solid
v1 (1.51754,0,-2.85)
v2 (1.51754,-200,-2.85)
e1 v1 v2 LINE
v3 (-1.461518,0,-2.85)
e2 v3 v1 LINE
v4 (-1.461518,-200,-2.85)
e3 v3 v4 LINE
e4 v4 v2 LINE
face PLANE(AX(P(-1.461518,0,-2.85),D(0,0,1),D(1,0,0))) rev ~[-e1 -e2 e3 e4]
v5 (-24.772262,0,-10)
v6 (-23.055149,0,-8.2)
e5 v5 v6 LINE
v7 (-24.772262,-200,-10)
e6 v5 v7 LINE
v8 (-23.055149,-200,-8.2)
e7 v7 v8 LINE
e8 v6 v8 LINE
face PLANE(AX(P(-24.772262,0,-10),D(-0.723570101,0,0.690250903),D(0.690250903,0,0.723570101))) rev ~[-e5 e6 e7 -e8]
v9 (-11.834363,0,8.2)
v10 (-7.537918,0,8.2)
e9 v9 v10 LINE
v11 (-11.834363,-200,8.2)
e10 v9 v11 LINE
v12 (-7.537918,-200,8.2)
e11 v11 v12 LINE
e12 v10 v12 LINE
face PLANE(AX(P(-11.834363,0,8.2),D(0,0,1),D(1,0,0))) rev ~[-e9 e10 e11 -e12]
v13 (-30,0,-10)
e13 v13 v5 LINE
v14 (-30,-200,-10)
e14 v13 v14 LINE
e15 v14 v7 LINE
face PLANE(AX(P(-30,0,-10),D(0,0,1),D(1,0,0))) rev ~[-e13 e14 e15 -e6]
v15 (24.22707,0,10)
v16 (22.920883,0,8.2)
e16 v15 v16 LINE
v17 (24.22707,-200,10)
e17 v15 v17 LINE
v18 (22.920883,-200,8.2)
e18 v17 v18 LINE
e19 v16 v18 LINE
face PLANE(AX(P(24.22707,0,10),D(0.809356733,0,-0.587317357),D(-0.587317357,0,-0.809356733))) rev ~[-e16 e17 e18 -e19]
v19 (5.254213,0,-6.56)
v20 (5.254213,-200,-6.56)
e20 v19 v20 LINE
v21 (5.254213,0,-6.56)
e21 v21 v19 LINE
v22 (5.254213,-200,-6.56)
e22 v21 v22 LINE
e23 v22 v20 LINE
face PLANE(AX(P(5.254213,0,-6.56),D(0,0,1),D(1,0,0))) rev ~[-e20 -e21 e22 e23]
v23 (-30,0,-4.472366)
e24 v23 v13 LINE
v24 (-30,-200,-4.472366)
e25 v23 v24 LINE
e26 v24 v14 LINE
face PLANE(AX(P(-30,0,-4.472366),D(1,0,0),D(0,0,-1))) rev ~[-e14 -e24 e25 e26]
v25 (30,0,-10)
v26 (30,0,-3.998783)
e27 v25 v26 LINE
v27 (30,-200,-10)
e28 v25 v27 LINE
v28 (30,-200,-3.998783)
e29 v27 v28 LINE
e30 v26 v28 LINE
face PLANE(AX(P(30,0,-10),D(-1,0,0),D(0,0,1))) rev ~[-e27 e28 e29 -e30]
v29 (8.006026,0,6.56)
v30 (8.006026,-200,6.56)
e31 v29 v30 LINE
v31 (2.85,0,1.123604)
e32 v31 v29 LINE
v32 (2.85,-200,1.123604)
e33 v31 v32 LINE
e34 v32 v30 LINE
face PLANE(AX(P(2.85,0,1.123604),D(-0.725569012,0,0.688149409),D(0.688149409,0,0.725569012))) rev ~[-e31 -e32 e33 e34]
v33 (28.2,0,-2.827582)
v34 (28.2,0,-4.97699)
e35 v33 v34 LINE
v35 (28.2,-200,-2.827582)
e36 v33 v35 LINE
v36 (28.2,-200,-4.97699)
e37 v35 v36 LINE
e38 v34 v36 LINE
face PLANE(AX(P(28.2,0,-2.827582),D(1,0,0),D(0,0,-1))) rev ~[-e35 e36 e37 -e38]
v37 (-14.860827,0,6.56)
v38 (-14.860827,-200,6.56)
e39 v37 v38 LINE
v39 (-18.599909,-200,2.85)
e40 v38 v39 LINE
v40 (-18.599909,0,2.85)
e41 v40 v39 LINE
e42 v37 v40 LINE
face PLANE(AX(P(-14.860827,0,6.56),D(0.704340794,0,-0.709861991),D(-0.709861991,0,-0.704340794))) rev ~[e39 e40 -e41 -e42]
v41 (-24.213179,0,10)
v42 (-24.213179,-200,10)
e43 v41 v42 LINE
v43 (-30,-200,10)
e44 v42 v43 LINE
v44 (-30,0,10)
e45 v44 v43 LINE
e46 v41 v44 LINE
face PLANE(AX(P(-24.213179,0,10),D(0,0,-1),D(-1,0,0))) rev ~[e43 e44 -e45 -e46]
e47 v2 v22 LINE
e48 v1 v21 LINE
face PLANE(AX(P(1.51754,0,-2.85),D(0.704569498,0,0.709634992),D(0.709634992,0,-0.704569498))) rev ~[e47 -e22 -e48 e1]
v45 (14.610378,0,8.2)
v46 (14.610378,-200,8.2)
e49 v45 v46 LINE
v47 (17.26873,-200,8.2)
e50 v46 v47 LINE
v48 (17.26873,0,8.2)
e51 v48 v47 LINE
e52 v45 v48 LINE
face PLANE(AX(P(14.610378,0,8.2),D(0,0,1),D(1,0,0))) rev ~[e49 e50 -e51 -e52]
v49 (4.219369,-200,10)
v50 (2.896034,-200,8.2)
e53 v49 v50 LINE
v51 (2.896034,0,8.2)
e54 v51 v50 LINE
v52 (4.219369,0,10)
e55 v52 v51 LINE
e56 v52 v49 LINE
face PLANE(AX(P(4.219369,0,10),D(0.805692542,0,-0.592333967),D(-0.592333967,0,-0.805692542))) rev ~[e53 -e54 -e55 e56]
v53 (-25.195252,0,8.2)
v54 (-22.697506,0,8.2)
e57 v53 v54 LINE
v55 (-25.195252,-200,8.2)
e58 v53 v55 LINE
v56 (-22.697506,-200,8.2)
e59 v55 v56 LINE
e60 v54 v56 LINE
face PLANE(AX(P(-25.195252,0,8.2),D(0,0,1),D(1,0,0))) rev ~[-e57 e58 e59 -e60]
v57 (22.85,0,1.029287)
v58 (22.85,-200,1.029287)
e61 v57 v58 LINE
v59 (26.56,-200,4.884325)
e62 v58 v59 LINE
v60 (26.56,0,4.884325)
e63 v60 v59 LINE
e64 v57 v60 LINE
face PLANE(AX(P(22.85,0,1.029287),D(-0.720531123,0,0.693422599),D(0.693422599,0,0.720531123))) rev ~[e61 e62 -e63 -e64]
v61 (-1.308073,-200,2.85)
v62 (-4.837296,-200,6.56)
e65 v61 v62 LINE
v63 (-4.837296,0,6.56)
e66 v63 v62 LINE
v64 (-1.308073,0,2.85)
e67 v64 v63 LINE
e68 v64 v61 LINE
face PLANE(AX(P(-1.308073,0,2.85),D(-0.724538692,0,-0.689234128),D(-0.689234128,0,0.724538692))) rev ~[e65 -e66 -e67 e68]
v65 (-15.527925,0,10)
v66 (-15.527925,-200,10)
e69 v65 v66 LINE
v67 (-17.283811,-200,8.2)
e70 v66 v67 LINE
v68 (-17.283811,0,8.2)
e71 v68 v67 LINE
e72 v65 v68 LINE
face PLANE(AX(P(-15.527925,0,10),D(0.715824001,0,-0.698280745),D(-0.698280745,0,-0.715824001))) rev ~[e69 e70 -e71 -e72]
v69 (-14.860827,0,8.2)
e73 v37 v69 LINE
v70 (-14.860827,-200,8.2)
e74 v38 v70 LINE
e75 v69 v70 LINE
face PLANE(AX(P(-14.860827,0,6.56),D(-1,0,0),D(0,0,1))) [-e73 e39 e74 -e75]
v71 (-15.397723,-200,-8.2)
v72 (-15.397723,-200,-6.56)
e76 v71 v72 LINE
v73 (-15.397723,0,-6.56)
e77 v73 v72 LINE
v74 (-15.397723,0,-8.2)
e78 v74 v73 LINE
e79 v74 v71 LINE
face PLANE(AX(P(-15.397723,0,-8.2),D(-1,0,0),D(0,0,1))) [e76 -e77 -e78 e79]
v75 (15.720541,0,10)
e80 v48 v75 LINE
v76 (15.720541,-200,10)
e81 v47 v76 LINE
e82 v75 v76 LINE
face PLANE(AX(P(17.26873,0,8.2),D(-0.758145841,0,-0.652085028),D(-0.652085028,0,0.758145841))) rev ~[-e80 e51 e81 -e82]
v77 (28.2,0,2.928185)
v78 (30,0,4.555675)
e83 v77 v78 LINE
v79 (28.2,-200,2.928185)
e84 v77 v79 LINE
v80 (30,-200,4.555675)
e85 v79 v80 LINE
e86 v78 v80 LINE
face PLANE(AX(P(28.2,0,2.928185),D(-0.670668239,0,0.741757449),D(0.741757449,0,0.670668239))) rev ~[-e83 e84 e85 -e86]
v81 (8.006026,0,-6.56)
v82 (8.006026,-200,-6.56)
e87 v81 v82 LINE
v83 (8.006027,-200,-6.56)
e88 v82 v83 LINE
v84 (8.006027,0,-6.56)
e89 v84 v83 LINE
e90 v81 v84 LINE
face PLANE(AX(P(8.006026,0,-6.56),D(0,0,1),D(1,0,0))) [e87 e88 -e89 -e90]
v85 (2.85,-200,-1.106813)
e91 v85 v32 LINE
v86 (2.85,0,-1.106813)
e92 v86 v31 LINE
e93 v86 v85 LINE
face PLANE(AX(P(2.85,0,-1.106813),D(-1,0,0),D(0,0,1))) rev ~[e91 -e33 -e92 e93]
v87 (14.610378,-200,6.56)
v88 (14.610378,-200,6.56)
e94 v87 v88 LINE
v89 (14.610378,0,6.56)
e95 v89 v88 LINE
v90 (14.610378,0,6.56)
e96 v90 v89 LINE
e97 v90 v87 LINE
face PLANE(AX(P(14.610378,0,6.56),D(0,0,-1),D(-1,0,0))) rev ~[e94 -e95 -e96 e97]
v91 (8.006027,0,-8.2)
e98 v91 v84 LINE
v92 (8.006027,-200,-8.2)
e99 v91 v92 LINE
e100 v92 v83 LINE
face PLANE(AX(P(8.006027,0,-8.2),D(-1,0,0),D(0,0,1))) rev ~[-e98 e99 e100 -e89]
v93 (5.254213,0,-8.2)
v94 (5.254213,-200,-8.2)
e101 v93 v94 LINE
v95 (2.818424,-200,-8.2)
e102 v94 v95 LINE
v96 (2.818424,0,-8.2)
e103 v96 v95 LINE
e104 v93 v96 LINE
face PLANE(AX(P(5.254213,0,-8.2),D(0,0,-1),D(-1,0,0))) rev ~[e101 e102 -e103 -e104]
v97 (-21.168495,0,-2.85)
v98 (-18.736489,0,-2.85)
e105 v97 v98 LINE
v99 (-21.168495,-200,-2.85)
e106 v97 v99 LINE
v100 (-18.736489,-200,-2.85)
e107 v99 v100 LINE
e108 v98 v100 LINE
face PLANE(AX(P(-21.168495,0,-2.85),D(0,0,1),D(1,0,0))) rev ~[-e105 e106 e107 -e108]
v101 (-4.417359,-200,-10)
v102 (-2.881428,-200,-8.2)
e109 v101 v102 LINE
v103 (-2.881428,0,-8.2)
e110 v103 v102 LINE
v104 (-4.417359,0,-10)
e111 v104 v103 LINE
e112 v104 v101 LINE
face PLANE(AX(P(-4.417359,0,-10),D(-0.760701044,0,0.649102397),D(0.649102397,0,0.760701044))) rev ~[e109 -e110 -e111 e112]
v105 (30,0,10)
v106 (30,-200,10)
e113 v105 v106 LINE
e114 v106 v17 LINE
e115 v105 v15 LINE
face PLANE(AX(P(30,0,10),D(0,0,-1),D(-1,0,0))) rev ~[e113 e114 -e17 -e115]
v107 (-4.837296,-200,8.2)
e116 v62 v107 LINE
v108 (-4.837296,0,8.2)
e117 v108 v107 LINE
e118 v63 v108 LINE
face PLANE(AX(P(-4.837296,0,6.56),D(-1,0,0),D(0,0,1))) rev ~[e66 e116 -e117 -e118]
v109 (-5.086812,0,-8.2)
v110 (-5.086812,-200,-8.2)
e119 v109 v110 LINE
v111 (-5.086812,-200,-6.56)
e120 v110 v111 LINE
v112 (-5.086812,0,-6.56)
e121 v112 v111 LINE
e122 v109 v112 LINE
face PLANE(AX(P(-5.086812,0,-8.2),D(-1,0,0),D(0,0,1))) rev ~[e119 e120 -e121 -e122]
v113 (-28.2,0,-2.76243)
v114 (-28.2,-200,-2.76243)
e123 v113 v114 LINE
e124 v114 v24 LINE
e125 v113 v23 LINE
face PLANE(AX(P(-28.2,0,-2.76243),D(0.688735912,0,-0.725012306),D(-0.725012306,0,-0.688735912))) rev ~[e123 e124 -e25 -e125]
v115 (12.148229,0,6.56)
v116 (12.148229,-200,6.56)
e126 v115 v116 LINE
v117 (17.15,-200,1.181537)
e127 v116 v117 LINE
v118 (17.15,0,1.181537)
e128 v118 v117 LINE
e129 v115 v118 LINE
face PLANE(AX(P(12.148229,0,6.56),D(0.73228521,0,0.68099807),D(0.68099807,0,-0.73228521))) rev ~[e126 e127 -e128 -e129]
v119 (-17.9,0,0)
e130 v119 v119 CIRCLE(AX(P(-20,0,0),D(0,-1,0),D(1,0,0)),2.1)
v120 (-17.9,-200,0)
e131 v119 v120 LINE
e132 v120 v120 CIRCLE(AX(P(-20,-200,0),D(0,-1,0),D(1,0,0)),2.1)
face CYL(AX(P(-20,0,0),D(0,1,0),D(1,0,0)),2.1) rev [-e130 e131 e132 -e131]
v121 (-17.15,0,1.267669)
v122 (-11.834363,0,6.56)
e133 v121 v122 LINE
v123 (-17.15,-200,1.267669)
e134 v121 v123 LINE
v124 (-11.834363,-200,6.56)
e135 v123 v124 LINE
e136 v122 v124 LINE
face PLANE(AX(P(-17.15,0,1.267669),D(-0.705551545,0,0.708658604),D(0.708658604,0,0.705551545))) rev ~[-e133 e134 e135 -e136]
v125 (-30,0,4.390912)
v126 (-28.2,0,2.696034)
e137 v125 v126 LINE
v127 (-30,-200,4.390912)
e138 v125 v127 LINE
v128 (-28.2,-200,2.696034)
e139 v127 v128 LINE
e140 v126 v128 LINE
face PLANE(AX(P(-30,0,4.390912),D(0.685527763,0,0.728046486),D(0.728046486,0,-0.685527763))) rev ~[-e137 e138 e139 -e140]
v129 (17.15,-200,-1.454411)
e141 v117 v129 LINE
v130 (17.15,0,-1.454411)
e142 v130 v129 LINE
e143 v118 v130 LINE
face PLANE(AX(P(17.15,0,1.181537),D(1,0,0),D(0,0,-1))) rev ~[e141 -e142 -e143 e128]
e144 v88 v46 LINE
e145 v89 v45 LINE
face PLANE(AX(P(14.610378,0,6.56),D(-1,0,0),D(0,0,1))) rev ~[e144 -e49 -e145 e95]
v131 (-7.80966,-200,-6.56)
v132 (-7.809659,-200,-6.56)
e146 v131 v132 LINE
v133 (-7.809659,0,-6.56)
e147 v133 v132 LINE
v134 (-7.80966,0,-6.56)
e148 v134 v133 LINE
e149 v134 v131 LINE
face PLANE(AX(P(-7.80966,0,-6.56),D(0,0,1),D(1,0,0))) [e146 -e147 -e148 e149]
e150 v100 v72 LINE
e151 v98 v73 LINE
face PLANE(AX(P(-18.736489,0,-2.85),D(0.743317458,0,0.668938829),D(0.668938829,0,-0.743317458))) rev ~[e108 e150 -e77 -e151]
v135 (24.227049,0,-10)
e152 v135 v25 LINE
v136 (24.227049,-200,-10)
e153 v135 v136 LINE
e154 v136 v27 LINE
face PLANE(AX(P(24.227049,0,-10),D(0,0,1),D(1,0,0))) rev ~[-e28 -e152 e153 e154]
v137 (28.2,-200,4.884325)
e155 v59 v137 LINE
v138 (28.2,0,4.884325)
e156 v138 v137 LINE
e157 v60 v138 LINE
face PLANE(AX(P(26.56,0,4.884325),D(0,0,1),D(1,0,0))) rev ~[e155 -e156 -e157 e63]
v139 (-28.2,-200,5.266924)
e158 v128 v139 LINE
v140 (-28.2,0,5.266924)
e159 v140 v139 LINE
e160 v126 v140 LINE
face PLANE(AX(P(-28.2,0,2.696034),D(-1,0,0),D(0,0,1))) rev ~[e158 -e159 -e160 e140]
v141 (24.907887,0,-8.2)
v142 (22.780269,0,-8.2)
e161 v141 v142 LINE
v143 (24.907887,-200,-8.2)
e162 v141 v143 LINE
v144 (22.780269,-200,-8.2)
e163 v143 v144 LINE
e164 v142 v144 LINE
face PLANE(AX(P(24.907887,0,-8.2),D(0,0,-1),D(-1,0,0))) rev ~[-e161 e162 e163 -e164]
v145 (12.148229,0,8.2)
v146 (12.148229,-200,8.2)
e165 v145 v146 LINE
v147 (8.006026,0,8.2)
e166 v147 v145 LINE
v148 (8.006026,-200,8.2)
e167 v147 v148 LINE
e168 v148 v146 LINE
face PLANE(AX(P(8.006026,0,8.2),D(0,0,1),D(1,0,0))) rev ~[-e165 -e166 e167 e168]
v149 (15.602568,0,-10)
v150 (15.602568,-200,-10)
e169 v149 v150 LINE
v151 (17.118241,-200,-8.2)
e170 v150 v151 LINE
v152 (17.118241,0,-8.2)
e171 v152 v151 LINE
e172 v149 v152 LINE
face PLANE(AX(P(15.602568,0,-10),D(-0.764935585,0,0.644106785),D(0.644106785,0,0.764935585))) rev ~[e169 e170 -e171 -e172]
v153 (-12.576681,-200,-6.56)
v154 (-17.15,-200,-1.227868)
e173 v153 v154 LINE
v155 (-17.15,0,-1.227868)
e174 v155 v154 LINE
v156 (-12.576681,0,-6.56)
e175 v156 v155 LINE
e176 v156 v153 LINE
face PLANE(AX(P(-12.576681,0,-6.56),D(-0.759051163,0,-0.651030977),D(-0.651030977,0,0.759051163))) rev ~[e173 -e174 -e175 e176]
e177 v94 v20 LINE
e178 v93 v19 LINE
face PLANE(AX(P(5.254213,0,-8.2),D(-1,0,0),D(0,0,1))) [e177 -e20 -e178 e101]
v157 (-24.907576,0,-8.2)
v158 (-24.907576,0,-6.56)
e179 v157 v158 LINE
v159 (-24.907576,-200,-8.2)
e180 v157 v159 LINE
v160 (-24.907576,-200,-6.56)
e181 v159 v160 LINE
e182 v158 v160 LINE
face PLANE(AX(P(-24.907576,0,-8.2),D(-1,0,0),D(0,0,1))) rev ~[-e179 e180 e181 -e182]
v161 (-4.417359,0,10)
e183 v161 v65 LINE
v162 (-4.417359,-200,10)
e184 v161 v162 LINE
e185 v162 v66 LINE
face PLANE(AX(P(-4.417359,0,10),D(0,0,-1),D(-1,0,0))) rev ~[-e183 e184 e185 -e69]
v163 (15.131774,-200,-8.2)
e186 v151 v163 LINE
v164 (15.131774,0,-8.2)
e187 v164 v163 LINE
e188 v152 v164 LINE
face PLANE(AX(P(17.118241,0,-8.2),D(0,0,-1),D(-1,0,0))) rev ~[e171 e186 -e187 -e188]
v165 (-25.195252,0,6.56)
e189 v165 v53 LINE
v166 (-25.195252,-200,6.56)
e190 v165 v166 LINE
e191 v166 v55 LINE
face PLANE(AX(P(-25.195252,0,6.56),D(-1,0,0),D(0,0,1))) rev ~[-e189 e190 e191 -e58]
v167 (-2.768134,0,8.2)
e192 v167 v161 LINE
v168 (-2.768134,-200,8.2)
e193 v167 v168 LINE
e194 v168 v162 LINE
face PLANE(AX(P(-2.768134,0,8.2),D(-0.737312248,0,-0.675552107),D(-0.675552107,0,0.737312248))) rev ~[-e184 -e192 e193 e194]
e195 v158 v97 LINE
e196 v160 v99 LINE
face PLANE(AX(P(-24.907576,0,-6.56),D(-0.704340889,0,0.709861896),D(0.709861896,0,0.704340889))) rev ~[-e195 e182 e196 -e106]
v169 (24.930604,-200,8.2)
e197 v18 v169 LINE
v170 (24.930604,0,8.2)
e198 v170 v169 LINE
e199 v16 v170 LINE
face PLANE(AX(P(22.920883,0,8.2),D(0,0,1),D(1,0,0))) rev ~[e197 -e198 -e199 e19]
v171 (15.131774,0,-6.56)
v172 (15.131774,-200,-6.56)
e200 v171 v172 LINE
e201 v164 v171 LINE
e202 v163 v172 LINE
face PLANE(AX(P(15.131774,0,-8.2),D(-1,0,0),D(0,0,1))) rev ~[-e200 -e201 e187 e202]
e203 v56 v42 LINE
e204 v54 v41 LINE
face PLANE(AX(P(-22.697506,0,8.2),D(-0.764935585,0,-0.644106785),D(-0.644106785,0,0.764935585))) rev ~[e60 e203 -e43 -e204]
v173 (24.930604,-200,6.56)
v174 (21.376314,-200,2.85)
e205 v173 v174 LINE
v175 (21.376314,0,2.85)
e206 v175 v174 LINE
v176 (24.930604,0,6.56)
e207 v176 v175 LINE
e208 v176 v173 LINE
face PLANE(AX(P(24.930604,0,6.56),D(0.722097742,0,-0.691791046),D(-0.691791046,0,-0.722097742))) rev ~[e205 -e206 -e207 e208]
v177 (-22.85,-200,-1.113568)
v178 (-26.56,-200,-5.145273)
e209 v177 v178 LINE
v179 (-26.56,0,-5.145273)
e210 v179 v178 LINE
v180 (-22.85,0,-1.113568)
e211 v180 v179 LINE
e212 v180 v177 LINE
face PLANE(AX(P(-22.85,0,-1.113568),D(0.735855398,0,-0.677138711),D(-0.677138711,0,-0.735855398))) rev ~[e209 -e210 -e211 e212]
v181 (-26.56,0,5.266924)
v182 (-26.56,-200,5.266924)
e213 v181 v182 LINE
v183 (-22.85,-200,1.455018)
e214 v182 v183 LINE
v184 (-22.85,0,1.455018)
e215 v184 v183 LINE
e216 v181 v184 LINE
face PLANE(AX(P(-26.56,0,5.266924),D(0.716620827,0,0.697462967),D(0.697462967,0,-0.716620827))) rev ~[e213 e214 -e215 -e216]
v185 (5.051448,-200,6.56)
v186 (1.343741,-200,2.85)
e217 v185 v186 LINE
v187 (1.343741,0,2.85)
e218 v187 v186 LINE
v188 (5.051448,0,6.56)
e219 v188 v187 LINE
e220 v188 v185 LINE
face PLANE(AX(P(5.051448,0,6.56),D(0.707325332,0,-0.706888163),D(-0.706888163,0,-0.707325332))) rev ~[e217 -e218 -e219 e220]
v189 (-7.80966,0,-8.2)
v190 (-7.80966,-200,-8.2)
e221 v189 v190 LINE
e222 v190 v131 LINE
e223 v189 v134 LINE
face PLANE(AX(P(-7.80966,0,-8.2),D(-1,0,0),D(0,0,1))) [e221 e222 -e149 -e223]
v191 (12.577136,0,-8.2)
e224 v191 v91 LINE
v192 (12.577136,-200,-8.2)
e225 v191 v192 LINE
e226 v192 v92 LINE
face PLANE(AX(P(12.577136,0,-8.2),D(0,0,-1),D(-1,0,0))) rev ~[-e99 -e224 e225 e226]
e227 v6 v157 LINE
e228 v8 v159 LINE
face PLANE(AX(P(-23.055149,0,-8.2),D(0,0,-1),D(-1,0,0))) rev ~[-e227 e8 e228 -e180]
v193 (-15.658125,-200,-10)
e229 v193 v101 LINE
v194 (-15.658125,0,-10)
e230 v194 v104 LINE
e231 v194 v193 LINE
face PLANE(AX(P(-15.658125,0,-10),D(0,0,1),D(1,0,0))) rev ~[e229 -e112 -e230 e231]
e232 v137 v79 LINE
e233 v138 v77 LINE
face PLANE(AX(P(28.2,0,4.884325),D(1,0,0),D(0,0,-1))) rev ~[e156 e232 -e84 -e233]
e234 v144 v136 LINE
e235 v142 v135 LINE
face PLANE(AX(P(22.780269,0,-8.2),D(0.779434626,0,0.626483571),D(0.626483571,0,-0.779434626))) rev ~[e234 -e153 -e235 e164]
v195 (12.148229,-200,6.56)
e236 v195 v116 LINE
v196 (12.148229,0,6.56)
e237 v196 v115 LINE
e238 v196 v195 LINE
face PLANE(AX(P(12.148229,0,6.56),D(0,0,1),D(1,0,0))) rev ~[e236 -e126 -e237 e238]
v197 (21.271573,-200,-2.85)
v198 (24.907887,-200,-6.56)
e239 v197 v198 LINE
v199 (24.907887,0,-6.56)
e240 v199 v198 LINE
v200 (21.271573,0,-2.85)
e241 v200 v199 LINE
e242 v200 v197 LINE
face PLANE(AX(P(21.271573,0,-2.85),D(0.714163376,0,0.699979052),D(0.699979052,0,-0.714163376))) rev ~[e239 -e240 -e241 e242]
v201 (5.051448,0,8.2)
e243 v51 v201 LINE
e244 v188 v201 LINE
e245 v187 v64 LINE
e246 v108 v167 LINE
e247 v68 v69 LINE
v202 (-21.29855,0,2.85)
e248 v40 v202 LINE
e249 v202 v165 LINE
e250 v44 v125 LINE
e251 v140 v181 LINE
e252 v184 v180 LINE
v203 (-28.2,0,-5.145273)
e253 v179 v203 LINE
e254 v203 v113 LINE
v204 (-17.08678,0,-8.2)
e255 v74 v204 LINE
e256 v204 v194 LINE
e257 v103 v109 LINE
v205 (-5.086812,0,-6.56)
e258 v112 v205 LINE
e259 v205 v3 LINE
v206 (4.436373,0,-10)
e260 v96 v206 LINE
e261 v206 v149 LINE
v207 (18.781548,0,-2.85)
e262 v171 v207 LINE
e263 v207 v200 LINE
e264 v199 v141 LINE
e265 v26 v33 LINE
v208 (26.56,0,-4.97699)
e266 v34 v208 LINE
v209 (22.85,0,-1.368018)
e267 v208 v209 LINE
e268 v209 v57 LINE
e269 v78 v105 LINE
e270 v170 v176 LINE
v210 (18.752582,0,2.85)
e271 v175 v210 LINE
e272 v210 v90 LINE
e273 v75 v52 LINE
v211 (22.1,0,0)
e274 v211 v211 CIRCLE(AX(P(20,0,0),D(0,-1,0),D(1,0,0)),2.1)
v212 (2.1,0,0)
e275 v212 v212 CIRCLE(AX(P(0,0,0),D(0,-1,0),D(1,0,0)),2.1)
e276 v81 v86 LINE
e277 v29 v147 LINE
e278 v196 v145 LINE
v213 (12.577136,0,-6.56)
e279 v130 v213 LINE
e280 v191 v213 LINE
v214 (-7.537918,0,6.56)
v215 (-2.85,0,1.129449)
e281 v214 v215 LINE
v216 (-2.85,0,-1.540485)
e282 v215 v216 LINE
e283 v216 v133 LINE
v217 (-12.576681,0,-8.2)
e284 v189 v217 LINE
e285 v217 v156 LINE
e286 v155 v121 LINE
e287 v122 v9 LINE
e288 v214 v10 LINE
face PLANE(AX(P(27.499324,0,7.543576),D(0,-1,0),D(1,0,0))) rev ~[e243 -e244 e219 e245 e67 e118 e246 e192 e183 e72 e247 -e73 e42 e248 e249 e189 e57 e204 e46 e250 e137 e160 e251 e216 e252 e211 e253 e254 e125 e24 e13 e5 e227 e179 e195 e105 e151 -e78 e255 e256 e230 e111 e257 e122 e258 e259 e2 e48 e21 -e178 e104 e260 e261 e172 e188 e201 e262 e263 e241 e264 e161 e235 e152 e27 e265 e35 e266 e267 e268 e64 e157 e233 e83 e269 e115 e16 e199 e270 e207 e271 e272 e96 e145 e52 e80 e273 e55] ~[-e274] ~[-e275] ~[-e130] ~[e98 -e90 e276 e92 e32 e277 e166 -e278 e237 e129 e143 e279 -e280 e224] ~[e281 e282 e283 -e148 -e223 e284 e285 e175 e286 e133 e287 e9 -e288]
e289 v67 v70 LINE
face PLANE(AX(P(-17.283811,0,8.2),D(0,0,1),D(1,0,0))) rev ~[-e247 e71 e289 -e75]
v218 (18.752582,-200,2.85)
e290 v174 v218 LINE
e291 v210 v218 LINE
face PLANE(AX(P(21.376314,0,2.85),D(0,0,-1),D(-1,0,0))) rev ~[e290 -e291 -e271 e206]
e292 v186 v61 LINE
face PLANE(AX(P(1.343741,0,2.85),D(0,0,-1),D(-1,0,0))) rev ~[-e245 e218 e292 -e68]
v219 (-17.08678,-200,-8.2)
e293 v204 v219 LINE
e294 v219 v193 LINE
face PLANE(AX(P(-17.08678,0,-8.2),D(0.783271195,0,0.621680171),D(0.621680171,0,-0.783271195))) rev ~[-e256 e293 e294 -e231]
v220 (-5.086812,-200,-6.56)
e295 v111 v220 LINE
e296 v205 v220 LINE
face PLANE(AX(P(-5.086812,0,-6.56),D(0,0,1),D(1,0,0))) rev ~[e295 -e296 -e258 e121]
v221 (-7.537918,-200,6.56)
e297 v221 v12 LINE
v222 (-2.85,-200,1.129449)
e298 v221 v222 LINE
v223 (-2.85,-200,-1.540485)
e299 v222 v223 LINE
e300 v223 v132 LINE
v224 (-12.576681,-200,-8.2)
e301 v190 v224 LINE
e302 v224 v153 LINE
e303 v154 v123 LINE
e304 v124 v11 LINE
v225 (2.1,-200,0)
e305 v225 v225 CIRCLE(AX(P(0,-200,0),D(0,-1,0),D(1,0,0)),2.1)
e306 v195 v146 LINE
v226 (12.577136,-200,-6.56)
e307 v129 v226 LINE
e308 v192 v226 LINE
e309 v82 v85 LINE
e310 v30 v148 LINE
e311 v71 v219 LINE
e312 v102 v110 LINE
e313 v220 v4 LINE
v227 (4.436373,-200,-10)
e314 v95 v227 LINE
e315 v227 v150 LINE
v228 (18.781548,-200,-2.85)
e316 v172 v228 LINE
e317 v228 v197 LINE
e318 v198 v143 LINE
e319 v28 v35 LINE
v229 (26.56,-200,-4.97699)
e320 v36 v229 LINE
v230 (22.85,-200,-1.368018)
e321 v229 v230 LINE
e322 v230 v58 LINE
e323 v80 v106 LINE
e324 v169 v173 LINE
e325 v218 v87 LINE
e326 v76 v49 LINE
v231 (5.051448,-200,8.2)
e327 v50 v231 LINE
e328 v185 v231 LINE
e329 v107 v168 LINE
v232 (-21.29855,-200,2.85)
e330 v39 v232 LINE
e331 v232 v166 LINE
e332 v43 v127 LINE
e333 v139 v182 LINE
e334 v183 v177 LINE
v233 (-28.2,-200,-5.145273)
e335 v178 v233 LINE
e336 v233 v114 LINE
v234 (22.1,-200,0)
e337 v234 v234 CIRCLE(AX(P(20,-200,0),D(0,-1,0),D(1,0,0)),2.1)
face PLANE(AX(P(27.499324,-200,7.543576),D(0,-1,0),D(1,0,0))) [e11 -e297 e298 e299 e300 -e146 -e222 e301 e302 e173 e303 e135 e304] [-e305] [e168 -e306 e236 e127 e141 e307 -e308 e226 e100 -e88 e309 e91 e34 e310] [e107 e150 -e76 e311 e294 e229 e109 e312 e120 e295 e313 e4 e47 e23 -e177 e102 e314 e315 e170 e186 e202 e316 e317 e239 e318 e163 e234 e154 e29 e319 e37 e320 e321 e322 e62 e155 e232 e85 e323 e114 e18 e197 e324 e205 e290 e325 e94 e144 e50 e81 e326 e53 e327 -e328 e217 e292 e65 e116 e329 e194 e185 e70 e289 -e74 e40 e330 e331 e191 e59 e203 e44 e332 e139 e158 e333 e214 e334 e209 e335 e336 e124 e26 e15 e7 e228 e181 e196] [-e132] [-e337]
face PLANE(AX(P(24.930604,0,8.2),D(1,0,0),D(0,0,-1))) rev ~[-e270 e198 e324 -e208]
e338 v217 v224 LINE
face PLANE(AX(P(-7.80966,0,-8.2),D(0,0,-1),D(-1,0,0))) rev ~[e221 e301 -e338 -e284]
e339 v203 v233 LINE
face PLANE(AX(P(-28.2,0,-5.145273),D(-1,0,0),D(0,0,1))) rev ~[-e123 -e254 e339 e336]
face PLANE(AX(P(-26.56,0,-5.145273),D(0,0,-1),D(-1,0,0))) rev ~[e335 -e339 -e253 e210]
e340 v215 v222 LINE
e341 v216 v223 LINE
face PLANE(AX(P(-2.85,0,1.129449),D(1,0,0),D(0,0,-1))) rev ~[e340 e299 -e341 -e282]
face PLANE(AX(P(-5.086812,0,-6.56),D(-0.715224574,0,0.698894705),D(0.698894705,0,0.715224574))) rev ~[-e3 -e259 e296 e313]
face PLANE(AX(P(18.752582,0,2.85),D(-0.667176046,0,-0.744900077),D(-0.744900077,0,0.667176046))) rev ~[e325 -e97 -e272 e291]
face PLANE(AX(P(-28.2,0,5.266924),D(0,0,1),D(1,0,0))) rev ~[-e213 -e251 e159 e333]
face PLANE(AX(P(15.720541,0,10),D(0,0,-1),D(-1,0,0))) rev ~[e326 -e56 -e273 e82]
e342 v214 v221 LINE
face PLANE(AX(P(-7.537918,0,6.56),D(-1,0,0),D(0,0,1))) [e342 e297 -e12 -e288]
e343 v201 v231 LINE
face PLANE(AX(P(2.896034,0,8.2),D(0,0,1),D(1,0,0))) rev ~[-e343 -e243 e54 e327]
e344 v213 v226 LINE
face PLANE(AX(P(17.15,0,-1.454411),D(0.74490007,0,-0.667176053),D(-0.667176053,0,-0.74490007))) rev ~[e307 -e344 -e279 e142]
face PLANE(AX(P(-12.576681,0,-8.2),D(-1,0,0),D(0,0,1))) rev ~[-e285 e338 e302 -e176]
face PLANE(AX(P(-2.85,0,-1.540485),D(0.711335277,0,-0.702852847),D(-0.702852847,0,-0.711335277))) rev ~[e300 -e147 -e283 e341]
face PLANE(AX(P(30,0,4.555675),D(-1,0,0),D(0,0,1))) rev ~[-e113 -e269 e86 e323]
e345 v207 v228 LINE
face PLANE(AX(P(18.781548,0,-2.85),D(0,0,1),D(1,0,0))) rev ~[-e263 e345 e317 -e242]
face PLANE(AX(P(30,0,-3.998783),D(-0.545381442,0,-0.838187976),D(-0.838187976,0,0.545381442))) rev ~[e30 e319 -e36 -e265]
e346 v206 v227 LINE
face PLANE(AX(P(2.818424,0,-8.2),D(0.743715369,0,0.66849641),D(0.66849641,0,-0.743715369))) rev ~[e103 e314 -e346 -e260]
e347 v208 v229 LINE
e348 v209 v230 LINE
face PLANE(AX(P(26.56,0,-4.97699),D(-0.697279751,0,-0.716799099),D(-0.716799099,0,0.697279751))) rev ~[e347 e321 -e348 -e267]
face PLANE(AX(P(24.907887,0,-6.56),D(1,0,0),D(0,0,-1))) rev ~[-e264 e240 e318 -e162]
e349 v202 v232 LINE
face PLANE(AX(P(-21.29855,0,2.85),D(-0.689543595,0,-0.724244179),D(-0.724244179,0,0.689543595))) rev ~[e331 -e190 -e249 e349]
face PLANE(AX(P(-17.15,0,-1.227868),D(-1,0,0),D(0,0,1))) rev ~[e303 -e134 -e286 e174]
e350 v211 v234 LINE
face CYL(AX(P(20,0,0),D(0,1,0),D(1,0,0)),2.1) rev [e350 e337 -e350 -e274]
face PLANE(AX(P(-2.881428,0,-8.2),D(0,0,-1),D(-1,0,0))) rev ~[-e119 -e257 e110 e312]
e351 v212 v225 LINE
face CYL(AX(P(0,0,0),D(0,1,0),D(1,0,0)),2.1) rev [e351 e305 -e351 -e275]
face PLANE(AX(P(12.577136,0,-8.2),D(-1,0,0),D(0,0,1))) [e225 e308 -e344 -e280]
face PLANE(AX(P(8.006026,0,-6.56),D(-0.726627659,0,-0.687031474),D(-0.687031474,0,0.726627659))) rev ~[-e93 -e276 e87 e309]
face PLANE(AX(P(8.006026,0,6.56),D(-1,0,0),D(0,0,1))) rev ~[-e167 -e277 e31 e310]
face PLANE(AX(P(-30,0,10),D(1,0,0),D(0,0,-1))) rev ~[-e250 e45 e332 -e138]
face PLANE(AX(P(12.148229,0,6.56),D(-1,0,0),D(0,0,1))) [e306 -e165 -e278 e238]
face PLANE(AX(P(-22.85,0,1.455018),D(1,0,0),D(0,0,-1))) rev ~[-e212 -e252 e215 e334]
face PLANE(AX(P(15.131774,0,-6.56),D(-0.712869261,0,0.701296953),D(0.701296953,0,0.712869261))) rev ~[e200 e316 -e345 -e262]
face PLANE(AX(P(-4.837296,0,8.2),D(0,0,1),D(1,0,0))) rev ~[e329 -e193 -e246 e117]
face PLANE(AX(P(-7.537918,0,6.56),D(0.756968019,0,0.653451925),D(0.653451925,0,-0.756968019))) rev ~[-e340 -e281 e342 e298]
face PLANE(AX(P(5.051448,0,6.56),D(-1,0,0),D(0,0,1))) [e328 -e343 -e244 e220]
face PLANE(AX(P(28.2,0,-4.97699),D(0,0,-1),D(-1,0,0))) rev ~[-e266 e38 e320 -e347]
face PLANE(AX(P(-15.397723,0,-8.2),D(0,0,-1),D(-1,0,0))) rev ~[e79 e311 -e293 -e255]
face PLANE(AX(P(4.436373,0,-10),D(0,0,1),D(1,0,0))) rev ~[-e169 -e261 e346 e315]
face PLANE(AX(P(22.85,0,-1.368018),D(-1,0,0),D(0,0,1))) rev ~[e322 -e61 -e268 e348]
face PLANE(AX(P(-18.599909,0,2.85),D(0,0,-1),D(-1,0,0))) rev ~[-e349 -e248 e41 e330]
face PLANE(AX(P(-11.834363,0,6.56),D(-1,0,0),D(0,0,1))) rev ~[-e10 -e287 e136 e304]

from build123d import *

# Parameters (mm, degrees)
F0_R     = 2.1
F0_W     = 2.462149
F0_H     = 1.64
F0_W_2   = 2.954578
F0_W_3   = 2.554638
F0_W_4   = 2.751813
F0_W_5   = 2.700622
F0_W_6   = 3.026464
F0_W_7   = 2.722847
F0_W_8   = 2.821042
F1_DEPTH = 200


with BuildPart() as f1:
    # F0 (on Front) → F1 (new body)
    with BuildSketch(Plane.XZ):
        Polygon((30, 4.555675), (30, 10), (24.22707, 10), (22.920883, 8.2), (24.930604, 8.2), (28.2, 8.2), (28.2, 4.884325), (28.2, 2.928185), align=None)
        Polygon((28.2, 8.2), (24.930604, 8.2), (24.930604, 6.56), (26.56, 6.56), (26.56, 4.884325), (28.2, 4.884325), align=None)
        Polygon((26.56, 6.56), (24.930604, 6.56), (21.376314, 2.85), (22.85, 2.85), (22.85, 1.029287), (26.56, 4.884325), align=None)
        Polygon((28.2, -4.97699), (26.56, -4.97699), (26.56, -6.56), (24.907887, -6.56), (24.907887, -8.2), (28.2, -8.2), align=None)
        Polygon((28.2, -2.827582), (28.2, -4.97699), (28.2, -8.2), (24.907887, -8.2), (22.780269, -8.2), (24.227049, -10), (30, -10), (30, -3.998783), align=None)
        Polygon((26.56, -4.97699), (22.85, -1.368018), (22.85, -2.85), (21.271573, -2.85), (24.907887, -6.56), (26.56, -6.56), align=None)
        Polygon((22.85, 2.85), (21.376314, 2.85), (18.752582, 2.85), (17.15, 2.85), (17.15, 1.181537), (17.15, -1.454411), (17.15, -2.85), (18.781548, -2.85), (21.271573, -2.85), (22.85, -2.85), (22.85, -1.368018), (22.85, 1.029287), align=None)
        with Locations((20, 0)):
            Circle(F0_R, mode=Mode.SUBTRACT)
        Polygon((17.15, 2.85), (18.752582, 2.85), (14.610378, 6.56), (12.148229, 6.56), (17.15, 1.181537), align=None)
        with Locations((13.379303, 7.38)):
            Rectangle(F0_W, F0_H)
        Polygon((12.148229, 8.2), (14.610378, 8.2), (17.26873, 8.2), (15.720541, 10), (4.219369, 10), (2.896034, 8.2), (5.051448, 8.2), (8.006026, 8.2), align=None)
        with Locations((6.528737, 7.38)):
            Rectangle(F0_W_2, F0_H)
        Polygon((2.85, 1.123604), (8.006026, 6.56), (5.051448, 6.56), (1.343741, 2.85), (2.85, 2.85), align=None)
        Polygon((17.15, -2.85), (17.15, -1.454411), (12.577136, -6.56), (15.131774, -6.56), (18.781548, -2.85), align=None)
        with Locations((13.854455, -7.38)):
            Rectangle(F0_W_3, F0_H)
        Polygon((15.131774, -8.2), (12.577136, -8.2), (8.006026, -8.2), (5.254213, -8.2), (2.818424, -8.2), (4.436373, -10), (15.602568, -10), (17.118241, -8.2), align=None)
        with Locations((6.63012, -7.38)):
            Rectangle(F0_W_4, F0_H)
        Polygon((5.254213, -6.56), (8.006026, -6.56), (2.85, -1.106813), (2.85, -2.85), (1.51754, -2.85), align=None)
        Polygon((2.85, -1.106813), (2.85, 1.123604), (2.85, 2.85), (1.343741, 2.85), (-1.308073, 2.85), (-2.85, 2.85), (-2.85, 1.129449), (-2.85, -1.540485), (-2.85, -2.85), (-1.461518, -2.85), (1.51754, -2.85), (2.85, -2.85), align=None)
        Circle(F0_R, mode=Mode.SUBTRACT)
        Polygon((-2.85, 2.85), (-1.308073, 2.85), (-4.837296, 6.56), (-7.537918, 6.56), (-2.85, 1.129449), align=None)
        with Locations((-6.187607, 7.38)):
            Rectangle(F0_W_5, F0_H)
        Polygon((-7.537918, 8.2), (-4.837296, 8.2), (-2.768134, 8.2), (-4.417359, 10), (-15.527925, 10), (-17.283811, 8.2), (-14.860827, 8.2), (-11.834363, 8.2), align=None)
        with Locations((-13.347595, 7.38)):
            Rectangle(F0_W_6, F0_H)
        Polygon((-17.15, 1.267669), (-11.834363, 6.56), (-14.860827, 6.56), (-18.599909, 2.85), (-17.15, 2.85), align=None)
        Polygon((-5.086812, -6.56), (-1.461518, -2.85), (-2.85, -2.85), (-2.85, -1.540485), (-7.809659, -6.56), align=None)
        with Locations((-6.448236, -7.38)):
            Rectangle(F0_W_7, F0_H)
        Polygon((-2.881428, -8.2), (-5.086812, -8.2), (-7.809659, -8.2), (-12.576681, -8.2), (-15.397723, -8.2), (-17.08678, -8.2), (-15.658125, -10), (-4.417359, -10), align=None)
        with Locations((-13.987202, -7.38)):
            Rectangle(F0_W_8, F0_H)
        Polygon((-15.397723, -6.56), (-12.576681, -6.56), (-17.15, -1.227868), (-17.15, -2.85), (-18.736489, -2.85), align=None)
        Polygon((-17.15, -1.227868), (-17.15, 1.267669), (-17.15, 2.85), (-18.599909, 2.85), (-21.29855, 2.85), (-22.85, 2.85), (-22.85, 1.455018), (-22.85, -1.113568), (-22.85, -2.85), (-21.168495, -2.85), (-18.736489, -2.85), (-17.15, -2.85), align=None)
        with Locations((-20, 0)):
            Circle(F0_R, mode=Mode.SUBTRACT)
        Polygon((-22.85, 2.85), (-21.29855, 2.85), (-25.195252, 6.56), (-26.56, 6.56), (-26.56, 5.266924), (-22.85, 1.455018), align=None)
        Polygon((-24.907576, -6.56), (-21.168495, -2.85), (-22.85, -2.85), (-22.85, -1.113568), (-26.56, -5.145273), (-26.56, -6.56), align=None)
        Polygon((-26.56, 6.56), (-25.195252, 6.56), (-25.195252, 8.2), (-28.2, 8.2), (-28.2, 5.266924), (-26.56, 5.266924), align=None)
        Polygon((-28.2, 8.2), (-25.195252, 8.2), (-22.697506, 8.2), (-24.213179, 10), (-30, 10), (-30, 4.390912), (-28.2, 2.696034), (-28.2, 5.266924), align=None)
        Polygon((-24.907576, -8.2), (-24.907576, -6.56), (-26.56, -6.56), (-26.56, -5.145273), (-28.2, -5.145273), (-28.2, -8.2), align=None)
        Polygon((-23.055149, -8.2), (-24.907576, -8.2), (-28.2, -8.2), (-28.2, -5.145273), (-28.2, -2.76243), (-30, -4.472366), (-30, -10), (-24.772262, -10), align=None)
    extrude(amount=F1_DEPTH)


solid = f1.part
